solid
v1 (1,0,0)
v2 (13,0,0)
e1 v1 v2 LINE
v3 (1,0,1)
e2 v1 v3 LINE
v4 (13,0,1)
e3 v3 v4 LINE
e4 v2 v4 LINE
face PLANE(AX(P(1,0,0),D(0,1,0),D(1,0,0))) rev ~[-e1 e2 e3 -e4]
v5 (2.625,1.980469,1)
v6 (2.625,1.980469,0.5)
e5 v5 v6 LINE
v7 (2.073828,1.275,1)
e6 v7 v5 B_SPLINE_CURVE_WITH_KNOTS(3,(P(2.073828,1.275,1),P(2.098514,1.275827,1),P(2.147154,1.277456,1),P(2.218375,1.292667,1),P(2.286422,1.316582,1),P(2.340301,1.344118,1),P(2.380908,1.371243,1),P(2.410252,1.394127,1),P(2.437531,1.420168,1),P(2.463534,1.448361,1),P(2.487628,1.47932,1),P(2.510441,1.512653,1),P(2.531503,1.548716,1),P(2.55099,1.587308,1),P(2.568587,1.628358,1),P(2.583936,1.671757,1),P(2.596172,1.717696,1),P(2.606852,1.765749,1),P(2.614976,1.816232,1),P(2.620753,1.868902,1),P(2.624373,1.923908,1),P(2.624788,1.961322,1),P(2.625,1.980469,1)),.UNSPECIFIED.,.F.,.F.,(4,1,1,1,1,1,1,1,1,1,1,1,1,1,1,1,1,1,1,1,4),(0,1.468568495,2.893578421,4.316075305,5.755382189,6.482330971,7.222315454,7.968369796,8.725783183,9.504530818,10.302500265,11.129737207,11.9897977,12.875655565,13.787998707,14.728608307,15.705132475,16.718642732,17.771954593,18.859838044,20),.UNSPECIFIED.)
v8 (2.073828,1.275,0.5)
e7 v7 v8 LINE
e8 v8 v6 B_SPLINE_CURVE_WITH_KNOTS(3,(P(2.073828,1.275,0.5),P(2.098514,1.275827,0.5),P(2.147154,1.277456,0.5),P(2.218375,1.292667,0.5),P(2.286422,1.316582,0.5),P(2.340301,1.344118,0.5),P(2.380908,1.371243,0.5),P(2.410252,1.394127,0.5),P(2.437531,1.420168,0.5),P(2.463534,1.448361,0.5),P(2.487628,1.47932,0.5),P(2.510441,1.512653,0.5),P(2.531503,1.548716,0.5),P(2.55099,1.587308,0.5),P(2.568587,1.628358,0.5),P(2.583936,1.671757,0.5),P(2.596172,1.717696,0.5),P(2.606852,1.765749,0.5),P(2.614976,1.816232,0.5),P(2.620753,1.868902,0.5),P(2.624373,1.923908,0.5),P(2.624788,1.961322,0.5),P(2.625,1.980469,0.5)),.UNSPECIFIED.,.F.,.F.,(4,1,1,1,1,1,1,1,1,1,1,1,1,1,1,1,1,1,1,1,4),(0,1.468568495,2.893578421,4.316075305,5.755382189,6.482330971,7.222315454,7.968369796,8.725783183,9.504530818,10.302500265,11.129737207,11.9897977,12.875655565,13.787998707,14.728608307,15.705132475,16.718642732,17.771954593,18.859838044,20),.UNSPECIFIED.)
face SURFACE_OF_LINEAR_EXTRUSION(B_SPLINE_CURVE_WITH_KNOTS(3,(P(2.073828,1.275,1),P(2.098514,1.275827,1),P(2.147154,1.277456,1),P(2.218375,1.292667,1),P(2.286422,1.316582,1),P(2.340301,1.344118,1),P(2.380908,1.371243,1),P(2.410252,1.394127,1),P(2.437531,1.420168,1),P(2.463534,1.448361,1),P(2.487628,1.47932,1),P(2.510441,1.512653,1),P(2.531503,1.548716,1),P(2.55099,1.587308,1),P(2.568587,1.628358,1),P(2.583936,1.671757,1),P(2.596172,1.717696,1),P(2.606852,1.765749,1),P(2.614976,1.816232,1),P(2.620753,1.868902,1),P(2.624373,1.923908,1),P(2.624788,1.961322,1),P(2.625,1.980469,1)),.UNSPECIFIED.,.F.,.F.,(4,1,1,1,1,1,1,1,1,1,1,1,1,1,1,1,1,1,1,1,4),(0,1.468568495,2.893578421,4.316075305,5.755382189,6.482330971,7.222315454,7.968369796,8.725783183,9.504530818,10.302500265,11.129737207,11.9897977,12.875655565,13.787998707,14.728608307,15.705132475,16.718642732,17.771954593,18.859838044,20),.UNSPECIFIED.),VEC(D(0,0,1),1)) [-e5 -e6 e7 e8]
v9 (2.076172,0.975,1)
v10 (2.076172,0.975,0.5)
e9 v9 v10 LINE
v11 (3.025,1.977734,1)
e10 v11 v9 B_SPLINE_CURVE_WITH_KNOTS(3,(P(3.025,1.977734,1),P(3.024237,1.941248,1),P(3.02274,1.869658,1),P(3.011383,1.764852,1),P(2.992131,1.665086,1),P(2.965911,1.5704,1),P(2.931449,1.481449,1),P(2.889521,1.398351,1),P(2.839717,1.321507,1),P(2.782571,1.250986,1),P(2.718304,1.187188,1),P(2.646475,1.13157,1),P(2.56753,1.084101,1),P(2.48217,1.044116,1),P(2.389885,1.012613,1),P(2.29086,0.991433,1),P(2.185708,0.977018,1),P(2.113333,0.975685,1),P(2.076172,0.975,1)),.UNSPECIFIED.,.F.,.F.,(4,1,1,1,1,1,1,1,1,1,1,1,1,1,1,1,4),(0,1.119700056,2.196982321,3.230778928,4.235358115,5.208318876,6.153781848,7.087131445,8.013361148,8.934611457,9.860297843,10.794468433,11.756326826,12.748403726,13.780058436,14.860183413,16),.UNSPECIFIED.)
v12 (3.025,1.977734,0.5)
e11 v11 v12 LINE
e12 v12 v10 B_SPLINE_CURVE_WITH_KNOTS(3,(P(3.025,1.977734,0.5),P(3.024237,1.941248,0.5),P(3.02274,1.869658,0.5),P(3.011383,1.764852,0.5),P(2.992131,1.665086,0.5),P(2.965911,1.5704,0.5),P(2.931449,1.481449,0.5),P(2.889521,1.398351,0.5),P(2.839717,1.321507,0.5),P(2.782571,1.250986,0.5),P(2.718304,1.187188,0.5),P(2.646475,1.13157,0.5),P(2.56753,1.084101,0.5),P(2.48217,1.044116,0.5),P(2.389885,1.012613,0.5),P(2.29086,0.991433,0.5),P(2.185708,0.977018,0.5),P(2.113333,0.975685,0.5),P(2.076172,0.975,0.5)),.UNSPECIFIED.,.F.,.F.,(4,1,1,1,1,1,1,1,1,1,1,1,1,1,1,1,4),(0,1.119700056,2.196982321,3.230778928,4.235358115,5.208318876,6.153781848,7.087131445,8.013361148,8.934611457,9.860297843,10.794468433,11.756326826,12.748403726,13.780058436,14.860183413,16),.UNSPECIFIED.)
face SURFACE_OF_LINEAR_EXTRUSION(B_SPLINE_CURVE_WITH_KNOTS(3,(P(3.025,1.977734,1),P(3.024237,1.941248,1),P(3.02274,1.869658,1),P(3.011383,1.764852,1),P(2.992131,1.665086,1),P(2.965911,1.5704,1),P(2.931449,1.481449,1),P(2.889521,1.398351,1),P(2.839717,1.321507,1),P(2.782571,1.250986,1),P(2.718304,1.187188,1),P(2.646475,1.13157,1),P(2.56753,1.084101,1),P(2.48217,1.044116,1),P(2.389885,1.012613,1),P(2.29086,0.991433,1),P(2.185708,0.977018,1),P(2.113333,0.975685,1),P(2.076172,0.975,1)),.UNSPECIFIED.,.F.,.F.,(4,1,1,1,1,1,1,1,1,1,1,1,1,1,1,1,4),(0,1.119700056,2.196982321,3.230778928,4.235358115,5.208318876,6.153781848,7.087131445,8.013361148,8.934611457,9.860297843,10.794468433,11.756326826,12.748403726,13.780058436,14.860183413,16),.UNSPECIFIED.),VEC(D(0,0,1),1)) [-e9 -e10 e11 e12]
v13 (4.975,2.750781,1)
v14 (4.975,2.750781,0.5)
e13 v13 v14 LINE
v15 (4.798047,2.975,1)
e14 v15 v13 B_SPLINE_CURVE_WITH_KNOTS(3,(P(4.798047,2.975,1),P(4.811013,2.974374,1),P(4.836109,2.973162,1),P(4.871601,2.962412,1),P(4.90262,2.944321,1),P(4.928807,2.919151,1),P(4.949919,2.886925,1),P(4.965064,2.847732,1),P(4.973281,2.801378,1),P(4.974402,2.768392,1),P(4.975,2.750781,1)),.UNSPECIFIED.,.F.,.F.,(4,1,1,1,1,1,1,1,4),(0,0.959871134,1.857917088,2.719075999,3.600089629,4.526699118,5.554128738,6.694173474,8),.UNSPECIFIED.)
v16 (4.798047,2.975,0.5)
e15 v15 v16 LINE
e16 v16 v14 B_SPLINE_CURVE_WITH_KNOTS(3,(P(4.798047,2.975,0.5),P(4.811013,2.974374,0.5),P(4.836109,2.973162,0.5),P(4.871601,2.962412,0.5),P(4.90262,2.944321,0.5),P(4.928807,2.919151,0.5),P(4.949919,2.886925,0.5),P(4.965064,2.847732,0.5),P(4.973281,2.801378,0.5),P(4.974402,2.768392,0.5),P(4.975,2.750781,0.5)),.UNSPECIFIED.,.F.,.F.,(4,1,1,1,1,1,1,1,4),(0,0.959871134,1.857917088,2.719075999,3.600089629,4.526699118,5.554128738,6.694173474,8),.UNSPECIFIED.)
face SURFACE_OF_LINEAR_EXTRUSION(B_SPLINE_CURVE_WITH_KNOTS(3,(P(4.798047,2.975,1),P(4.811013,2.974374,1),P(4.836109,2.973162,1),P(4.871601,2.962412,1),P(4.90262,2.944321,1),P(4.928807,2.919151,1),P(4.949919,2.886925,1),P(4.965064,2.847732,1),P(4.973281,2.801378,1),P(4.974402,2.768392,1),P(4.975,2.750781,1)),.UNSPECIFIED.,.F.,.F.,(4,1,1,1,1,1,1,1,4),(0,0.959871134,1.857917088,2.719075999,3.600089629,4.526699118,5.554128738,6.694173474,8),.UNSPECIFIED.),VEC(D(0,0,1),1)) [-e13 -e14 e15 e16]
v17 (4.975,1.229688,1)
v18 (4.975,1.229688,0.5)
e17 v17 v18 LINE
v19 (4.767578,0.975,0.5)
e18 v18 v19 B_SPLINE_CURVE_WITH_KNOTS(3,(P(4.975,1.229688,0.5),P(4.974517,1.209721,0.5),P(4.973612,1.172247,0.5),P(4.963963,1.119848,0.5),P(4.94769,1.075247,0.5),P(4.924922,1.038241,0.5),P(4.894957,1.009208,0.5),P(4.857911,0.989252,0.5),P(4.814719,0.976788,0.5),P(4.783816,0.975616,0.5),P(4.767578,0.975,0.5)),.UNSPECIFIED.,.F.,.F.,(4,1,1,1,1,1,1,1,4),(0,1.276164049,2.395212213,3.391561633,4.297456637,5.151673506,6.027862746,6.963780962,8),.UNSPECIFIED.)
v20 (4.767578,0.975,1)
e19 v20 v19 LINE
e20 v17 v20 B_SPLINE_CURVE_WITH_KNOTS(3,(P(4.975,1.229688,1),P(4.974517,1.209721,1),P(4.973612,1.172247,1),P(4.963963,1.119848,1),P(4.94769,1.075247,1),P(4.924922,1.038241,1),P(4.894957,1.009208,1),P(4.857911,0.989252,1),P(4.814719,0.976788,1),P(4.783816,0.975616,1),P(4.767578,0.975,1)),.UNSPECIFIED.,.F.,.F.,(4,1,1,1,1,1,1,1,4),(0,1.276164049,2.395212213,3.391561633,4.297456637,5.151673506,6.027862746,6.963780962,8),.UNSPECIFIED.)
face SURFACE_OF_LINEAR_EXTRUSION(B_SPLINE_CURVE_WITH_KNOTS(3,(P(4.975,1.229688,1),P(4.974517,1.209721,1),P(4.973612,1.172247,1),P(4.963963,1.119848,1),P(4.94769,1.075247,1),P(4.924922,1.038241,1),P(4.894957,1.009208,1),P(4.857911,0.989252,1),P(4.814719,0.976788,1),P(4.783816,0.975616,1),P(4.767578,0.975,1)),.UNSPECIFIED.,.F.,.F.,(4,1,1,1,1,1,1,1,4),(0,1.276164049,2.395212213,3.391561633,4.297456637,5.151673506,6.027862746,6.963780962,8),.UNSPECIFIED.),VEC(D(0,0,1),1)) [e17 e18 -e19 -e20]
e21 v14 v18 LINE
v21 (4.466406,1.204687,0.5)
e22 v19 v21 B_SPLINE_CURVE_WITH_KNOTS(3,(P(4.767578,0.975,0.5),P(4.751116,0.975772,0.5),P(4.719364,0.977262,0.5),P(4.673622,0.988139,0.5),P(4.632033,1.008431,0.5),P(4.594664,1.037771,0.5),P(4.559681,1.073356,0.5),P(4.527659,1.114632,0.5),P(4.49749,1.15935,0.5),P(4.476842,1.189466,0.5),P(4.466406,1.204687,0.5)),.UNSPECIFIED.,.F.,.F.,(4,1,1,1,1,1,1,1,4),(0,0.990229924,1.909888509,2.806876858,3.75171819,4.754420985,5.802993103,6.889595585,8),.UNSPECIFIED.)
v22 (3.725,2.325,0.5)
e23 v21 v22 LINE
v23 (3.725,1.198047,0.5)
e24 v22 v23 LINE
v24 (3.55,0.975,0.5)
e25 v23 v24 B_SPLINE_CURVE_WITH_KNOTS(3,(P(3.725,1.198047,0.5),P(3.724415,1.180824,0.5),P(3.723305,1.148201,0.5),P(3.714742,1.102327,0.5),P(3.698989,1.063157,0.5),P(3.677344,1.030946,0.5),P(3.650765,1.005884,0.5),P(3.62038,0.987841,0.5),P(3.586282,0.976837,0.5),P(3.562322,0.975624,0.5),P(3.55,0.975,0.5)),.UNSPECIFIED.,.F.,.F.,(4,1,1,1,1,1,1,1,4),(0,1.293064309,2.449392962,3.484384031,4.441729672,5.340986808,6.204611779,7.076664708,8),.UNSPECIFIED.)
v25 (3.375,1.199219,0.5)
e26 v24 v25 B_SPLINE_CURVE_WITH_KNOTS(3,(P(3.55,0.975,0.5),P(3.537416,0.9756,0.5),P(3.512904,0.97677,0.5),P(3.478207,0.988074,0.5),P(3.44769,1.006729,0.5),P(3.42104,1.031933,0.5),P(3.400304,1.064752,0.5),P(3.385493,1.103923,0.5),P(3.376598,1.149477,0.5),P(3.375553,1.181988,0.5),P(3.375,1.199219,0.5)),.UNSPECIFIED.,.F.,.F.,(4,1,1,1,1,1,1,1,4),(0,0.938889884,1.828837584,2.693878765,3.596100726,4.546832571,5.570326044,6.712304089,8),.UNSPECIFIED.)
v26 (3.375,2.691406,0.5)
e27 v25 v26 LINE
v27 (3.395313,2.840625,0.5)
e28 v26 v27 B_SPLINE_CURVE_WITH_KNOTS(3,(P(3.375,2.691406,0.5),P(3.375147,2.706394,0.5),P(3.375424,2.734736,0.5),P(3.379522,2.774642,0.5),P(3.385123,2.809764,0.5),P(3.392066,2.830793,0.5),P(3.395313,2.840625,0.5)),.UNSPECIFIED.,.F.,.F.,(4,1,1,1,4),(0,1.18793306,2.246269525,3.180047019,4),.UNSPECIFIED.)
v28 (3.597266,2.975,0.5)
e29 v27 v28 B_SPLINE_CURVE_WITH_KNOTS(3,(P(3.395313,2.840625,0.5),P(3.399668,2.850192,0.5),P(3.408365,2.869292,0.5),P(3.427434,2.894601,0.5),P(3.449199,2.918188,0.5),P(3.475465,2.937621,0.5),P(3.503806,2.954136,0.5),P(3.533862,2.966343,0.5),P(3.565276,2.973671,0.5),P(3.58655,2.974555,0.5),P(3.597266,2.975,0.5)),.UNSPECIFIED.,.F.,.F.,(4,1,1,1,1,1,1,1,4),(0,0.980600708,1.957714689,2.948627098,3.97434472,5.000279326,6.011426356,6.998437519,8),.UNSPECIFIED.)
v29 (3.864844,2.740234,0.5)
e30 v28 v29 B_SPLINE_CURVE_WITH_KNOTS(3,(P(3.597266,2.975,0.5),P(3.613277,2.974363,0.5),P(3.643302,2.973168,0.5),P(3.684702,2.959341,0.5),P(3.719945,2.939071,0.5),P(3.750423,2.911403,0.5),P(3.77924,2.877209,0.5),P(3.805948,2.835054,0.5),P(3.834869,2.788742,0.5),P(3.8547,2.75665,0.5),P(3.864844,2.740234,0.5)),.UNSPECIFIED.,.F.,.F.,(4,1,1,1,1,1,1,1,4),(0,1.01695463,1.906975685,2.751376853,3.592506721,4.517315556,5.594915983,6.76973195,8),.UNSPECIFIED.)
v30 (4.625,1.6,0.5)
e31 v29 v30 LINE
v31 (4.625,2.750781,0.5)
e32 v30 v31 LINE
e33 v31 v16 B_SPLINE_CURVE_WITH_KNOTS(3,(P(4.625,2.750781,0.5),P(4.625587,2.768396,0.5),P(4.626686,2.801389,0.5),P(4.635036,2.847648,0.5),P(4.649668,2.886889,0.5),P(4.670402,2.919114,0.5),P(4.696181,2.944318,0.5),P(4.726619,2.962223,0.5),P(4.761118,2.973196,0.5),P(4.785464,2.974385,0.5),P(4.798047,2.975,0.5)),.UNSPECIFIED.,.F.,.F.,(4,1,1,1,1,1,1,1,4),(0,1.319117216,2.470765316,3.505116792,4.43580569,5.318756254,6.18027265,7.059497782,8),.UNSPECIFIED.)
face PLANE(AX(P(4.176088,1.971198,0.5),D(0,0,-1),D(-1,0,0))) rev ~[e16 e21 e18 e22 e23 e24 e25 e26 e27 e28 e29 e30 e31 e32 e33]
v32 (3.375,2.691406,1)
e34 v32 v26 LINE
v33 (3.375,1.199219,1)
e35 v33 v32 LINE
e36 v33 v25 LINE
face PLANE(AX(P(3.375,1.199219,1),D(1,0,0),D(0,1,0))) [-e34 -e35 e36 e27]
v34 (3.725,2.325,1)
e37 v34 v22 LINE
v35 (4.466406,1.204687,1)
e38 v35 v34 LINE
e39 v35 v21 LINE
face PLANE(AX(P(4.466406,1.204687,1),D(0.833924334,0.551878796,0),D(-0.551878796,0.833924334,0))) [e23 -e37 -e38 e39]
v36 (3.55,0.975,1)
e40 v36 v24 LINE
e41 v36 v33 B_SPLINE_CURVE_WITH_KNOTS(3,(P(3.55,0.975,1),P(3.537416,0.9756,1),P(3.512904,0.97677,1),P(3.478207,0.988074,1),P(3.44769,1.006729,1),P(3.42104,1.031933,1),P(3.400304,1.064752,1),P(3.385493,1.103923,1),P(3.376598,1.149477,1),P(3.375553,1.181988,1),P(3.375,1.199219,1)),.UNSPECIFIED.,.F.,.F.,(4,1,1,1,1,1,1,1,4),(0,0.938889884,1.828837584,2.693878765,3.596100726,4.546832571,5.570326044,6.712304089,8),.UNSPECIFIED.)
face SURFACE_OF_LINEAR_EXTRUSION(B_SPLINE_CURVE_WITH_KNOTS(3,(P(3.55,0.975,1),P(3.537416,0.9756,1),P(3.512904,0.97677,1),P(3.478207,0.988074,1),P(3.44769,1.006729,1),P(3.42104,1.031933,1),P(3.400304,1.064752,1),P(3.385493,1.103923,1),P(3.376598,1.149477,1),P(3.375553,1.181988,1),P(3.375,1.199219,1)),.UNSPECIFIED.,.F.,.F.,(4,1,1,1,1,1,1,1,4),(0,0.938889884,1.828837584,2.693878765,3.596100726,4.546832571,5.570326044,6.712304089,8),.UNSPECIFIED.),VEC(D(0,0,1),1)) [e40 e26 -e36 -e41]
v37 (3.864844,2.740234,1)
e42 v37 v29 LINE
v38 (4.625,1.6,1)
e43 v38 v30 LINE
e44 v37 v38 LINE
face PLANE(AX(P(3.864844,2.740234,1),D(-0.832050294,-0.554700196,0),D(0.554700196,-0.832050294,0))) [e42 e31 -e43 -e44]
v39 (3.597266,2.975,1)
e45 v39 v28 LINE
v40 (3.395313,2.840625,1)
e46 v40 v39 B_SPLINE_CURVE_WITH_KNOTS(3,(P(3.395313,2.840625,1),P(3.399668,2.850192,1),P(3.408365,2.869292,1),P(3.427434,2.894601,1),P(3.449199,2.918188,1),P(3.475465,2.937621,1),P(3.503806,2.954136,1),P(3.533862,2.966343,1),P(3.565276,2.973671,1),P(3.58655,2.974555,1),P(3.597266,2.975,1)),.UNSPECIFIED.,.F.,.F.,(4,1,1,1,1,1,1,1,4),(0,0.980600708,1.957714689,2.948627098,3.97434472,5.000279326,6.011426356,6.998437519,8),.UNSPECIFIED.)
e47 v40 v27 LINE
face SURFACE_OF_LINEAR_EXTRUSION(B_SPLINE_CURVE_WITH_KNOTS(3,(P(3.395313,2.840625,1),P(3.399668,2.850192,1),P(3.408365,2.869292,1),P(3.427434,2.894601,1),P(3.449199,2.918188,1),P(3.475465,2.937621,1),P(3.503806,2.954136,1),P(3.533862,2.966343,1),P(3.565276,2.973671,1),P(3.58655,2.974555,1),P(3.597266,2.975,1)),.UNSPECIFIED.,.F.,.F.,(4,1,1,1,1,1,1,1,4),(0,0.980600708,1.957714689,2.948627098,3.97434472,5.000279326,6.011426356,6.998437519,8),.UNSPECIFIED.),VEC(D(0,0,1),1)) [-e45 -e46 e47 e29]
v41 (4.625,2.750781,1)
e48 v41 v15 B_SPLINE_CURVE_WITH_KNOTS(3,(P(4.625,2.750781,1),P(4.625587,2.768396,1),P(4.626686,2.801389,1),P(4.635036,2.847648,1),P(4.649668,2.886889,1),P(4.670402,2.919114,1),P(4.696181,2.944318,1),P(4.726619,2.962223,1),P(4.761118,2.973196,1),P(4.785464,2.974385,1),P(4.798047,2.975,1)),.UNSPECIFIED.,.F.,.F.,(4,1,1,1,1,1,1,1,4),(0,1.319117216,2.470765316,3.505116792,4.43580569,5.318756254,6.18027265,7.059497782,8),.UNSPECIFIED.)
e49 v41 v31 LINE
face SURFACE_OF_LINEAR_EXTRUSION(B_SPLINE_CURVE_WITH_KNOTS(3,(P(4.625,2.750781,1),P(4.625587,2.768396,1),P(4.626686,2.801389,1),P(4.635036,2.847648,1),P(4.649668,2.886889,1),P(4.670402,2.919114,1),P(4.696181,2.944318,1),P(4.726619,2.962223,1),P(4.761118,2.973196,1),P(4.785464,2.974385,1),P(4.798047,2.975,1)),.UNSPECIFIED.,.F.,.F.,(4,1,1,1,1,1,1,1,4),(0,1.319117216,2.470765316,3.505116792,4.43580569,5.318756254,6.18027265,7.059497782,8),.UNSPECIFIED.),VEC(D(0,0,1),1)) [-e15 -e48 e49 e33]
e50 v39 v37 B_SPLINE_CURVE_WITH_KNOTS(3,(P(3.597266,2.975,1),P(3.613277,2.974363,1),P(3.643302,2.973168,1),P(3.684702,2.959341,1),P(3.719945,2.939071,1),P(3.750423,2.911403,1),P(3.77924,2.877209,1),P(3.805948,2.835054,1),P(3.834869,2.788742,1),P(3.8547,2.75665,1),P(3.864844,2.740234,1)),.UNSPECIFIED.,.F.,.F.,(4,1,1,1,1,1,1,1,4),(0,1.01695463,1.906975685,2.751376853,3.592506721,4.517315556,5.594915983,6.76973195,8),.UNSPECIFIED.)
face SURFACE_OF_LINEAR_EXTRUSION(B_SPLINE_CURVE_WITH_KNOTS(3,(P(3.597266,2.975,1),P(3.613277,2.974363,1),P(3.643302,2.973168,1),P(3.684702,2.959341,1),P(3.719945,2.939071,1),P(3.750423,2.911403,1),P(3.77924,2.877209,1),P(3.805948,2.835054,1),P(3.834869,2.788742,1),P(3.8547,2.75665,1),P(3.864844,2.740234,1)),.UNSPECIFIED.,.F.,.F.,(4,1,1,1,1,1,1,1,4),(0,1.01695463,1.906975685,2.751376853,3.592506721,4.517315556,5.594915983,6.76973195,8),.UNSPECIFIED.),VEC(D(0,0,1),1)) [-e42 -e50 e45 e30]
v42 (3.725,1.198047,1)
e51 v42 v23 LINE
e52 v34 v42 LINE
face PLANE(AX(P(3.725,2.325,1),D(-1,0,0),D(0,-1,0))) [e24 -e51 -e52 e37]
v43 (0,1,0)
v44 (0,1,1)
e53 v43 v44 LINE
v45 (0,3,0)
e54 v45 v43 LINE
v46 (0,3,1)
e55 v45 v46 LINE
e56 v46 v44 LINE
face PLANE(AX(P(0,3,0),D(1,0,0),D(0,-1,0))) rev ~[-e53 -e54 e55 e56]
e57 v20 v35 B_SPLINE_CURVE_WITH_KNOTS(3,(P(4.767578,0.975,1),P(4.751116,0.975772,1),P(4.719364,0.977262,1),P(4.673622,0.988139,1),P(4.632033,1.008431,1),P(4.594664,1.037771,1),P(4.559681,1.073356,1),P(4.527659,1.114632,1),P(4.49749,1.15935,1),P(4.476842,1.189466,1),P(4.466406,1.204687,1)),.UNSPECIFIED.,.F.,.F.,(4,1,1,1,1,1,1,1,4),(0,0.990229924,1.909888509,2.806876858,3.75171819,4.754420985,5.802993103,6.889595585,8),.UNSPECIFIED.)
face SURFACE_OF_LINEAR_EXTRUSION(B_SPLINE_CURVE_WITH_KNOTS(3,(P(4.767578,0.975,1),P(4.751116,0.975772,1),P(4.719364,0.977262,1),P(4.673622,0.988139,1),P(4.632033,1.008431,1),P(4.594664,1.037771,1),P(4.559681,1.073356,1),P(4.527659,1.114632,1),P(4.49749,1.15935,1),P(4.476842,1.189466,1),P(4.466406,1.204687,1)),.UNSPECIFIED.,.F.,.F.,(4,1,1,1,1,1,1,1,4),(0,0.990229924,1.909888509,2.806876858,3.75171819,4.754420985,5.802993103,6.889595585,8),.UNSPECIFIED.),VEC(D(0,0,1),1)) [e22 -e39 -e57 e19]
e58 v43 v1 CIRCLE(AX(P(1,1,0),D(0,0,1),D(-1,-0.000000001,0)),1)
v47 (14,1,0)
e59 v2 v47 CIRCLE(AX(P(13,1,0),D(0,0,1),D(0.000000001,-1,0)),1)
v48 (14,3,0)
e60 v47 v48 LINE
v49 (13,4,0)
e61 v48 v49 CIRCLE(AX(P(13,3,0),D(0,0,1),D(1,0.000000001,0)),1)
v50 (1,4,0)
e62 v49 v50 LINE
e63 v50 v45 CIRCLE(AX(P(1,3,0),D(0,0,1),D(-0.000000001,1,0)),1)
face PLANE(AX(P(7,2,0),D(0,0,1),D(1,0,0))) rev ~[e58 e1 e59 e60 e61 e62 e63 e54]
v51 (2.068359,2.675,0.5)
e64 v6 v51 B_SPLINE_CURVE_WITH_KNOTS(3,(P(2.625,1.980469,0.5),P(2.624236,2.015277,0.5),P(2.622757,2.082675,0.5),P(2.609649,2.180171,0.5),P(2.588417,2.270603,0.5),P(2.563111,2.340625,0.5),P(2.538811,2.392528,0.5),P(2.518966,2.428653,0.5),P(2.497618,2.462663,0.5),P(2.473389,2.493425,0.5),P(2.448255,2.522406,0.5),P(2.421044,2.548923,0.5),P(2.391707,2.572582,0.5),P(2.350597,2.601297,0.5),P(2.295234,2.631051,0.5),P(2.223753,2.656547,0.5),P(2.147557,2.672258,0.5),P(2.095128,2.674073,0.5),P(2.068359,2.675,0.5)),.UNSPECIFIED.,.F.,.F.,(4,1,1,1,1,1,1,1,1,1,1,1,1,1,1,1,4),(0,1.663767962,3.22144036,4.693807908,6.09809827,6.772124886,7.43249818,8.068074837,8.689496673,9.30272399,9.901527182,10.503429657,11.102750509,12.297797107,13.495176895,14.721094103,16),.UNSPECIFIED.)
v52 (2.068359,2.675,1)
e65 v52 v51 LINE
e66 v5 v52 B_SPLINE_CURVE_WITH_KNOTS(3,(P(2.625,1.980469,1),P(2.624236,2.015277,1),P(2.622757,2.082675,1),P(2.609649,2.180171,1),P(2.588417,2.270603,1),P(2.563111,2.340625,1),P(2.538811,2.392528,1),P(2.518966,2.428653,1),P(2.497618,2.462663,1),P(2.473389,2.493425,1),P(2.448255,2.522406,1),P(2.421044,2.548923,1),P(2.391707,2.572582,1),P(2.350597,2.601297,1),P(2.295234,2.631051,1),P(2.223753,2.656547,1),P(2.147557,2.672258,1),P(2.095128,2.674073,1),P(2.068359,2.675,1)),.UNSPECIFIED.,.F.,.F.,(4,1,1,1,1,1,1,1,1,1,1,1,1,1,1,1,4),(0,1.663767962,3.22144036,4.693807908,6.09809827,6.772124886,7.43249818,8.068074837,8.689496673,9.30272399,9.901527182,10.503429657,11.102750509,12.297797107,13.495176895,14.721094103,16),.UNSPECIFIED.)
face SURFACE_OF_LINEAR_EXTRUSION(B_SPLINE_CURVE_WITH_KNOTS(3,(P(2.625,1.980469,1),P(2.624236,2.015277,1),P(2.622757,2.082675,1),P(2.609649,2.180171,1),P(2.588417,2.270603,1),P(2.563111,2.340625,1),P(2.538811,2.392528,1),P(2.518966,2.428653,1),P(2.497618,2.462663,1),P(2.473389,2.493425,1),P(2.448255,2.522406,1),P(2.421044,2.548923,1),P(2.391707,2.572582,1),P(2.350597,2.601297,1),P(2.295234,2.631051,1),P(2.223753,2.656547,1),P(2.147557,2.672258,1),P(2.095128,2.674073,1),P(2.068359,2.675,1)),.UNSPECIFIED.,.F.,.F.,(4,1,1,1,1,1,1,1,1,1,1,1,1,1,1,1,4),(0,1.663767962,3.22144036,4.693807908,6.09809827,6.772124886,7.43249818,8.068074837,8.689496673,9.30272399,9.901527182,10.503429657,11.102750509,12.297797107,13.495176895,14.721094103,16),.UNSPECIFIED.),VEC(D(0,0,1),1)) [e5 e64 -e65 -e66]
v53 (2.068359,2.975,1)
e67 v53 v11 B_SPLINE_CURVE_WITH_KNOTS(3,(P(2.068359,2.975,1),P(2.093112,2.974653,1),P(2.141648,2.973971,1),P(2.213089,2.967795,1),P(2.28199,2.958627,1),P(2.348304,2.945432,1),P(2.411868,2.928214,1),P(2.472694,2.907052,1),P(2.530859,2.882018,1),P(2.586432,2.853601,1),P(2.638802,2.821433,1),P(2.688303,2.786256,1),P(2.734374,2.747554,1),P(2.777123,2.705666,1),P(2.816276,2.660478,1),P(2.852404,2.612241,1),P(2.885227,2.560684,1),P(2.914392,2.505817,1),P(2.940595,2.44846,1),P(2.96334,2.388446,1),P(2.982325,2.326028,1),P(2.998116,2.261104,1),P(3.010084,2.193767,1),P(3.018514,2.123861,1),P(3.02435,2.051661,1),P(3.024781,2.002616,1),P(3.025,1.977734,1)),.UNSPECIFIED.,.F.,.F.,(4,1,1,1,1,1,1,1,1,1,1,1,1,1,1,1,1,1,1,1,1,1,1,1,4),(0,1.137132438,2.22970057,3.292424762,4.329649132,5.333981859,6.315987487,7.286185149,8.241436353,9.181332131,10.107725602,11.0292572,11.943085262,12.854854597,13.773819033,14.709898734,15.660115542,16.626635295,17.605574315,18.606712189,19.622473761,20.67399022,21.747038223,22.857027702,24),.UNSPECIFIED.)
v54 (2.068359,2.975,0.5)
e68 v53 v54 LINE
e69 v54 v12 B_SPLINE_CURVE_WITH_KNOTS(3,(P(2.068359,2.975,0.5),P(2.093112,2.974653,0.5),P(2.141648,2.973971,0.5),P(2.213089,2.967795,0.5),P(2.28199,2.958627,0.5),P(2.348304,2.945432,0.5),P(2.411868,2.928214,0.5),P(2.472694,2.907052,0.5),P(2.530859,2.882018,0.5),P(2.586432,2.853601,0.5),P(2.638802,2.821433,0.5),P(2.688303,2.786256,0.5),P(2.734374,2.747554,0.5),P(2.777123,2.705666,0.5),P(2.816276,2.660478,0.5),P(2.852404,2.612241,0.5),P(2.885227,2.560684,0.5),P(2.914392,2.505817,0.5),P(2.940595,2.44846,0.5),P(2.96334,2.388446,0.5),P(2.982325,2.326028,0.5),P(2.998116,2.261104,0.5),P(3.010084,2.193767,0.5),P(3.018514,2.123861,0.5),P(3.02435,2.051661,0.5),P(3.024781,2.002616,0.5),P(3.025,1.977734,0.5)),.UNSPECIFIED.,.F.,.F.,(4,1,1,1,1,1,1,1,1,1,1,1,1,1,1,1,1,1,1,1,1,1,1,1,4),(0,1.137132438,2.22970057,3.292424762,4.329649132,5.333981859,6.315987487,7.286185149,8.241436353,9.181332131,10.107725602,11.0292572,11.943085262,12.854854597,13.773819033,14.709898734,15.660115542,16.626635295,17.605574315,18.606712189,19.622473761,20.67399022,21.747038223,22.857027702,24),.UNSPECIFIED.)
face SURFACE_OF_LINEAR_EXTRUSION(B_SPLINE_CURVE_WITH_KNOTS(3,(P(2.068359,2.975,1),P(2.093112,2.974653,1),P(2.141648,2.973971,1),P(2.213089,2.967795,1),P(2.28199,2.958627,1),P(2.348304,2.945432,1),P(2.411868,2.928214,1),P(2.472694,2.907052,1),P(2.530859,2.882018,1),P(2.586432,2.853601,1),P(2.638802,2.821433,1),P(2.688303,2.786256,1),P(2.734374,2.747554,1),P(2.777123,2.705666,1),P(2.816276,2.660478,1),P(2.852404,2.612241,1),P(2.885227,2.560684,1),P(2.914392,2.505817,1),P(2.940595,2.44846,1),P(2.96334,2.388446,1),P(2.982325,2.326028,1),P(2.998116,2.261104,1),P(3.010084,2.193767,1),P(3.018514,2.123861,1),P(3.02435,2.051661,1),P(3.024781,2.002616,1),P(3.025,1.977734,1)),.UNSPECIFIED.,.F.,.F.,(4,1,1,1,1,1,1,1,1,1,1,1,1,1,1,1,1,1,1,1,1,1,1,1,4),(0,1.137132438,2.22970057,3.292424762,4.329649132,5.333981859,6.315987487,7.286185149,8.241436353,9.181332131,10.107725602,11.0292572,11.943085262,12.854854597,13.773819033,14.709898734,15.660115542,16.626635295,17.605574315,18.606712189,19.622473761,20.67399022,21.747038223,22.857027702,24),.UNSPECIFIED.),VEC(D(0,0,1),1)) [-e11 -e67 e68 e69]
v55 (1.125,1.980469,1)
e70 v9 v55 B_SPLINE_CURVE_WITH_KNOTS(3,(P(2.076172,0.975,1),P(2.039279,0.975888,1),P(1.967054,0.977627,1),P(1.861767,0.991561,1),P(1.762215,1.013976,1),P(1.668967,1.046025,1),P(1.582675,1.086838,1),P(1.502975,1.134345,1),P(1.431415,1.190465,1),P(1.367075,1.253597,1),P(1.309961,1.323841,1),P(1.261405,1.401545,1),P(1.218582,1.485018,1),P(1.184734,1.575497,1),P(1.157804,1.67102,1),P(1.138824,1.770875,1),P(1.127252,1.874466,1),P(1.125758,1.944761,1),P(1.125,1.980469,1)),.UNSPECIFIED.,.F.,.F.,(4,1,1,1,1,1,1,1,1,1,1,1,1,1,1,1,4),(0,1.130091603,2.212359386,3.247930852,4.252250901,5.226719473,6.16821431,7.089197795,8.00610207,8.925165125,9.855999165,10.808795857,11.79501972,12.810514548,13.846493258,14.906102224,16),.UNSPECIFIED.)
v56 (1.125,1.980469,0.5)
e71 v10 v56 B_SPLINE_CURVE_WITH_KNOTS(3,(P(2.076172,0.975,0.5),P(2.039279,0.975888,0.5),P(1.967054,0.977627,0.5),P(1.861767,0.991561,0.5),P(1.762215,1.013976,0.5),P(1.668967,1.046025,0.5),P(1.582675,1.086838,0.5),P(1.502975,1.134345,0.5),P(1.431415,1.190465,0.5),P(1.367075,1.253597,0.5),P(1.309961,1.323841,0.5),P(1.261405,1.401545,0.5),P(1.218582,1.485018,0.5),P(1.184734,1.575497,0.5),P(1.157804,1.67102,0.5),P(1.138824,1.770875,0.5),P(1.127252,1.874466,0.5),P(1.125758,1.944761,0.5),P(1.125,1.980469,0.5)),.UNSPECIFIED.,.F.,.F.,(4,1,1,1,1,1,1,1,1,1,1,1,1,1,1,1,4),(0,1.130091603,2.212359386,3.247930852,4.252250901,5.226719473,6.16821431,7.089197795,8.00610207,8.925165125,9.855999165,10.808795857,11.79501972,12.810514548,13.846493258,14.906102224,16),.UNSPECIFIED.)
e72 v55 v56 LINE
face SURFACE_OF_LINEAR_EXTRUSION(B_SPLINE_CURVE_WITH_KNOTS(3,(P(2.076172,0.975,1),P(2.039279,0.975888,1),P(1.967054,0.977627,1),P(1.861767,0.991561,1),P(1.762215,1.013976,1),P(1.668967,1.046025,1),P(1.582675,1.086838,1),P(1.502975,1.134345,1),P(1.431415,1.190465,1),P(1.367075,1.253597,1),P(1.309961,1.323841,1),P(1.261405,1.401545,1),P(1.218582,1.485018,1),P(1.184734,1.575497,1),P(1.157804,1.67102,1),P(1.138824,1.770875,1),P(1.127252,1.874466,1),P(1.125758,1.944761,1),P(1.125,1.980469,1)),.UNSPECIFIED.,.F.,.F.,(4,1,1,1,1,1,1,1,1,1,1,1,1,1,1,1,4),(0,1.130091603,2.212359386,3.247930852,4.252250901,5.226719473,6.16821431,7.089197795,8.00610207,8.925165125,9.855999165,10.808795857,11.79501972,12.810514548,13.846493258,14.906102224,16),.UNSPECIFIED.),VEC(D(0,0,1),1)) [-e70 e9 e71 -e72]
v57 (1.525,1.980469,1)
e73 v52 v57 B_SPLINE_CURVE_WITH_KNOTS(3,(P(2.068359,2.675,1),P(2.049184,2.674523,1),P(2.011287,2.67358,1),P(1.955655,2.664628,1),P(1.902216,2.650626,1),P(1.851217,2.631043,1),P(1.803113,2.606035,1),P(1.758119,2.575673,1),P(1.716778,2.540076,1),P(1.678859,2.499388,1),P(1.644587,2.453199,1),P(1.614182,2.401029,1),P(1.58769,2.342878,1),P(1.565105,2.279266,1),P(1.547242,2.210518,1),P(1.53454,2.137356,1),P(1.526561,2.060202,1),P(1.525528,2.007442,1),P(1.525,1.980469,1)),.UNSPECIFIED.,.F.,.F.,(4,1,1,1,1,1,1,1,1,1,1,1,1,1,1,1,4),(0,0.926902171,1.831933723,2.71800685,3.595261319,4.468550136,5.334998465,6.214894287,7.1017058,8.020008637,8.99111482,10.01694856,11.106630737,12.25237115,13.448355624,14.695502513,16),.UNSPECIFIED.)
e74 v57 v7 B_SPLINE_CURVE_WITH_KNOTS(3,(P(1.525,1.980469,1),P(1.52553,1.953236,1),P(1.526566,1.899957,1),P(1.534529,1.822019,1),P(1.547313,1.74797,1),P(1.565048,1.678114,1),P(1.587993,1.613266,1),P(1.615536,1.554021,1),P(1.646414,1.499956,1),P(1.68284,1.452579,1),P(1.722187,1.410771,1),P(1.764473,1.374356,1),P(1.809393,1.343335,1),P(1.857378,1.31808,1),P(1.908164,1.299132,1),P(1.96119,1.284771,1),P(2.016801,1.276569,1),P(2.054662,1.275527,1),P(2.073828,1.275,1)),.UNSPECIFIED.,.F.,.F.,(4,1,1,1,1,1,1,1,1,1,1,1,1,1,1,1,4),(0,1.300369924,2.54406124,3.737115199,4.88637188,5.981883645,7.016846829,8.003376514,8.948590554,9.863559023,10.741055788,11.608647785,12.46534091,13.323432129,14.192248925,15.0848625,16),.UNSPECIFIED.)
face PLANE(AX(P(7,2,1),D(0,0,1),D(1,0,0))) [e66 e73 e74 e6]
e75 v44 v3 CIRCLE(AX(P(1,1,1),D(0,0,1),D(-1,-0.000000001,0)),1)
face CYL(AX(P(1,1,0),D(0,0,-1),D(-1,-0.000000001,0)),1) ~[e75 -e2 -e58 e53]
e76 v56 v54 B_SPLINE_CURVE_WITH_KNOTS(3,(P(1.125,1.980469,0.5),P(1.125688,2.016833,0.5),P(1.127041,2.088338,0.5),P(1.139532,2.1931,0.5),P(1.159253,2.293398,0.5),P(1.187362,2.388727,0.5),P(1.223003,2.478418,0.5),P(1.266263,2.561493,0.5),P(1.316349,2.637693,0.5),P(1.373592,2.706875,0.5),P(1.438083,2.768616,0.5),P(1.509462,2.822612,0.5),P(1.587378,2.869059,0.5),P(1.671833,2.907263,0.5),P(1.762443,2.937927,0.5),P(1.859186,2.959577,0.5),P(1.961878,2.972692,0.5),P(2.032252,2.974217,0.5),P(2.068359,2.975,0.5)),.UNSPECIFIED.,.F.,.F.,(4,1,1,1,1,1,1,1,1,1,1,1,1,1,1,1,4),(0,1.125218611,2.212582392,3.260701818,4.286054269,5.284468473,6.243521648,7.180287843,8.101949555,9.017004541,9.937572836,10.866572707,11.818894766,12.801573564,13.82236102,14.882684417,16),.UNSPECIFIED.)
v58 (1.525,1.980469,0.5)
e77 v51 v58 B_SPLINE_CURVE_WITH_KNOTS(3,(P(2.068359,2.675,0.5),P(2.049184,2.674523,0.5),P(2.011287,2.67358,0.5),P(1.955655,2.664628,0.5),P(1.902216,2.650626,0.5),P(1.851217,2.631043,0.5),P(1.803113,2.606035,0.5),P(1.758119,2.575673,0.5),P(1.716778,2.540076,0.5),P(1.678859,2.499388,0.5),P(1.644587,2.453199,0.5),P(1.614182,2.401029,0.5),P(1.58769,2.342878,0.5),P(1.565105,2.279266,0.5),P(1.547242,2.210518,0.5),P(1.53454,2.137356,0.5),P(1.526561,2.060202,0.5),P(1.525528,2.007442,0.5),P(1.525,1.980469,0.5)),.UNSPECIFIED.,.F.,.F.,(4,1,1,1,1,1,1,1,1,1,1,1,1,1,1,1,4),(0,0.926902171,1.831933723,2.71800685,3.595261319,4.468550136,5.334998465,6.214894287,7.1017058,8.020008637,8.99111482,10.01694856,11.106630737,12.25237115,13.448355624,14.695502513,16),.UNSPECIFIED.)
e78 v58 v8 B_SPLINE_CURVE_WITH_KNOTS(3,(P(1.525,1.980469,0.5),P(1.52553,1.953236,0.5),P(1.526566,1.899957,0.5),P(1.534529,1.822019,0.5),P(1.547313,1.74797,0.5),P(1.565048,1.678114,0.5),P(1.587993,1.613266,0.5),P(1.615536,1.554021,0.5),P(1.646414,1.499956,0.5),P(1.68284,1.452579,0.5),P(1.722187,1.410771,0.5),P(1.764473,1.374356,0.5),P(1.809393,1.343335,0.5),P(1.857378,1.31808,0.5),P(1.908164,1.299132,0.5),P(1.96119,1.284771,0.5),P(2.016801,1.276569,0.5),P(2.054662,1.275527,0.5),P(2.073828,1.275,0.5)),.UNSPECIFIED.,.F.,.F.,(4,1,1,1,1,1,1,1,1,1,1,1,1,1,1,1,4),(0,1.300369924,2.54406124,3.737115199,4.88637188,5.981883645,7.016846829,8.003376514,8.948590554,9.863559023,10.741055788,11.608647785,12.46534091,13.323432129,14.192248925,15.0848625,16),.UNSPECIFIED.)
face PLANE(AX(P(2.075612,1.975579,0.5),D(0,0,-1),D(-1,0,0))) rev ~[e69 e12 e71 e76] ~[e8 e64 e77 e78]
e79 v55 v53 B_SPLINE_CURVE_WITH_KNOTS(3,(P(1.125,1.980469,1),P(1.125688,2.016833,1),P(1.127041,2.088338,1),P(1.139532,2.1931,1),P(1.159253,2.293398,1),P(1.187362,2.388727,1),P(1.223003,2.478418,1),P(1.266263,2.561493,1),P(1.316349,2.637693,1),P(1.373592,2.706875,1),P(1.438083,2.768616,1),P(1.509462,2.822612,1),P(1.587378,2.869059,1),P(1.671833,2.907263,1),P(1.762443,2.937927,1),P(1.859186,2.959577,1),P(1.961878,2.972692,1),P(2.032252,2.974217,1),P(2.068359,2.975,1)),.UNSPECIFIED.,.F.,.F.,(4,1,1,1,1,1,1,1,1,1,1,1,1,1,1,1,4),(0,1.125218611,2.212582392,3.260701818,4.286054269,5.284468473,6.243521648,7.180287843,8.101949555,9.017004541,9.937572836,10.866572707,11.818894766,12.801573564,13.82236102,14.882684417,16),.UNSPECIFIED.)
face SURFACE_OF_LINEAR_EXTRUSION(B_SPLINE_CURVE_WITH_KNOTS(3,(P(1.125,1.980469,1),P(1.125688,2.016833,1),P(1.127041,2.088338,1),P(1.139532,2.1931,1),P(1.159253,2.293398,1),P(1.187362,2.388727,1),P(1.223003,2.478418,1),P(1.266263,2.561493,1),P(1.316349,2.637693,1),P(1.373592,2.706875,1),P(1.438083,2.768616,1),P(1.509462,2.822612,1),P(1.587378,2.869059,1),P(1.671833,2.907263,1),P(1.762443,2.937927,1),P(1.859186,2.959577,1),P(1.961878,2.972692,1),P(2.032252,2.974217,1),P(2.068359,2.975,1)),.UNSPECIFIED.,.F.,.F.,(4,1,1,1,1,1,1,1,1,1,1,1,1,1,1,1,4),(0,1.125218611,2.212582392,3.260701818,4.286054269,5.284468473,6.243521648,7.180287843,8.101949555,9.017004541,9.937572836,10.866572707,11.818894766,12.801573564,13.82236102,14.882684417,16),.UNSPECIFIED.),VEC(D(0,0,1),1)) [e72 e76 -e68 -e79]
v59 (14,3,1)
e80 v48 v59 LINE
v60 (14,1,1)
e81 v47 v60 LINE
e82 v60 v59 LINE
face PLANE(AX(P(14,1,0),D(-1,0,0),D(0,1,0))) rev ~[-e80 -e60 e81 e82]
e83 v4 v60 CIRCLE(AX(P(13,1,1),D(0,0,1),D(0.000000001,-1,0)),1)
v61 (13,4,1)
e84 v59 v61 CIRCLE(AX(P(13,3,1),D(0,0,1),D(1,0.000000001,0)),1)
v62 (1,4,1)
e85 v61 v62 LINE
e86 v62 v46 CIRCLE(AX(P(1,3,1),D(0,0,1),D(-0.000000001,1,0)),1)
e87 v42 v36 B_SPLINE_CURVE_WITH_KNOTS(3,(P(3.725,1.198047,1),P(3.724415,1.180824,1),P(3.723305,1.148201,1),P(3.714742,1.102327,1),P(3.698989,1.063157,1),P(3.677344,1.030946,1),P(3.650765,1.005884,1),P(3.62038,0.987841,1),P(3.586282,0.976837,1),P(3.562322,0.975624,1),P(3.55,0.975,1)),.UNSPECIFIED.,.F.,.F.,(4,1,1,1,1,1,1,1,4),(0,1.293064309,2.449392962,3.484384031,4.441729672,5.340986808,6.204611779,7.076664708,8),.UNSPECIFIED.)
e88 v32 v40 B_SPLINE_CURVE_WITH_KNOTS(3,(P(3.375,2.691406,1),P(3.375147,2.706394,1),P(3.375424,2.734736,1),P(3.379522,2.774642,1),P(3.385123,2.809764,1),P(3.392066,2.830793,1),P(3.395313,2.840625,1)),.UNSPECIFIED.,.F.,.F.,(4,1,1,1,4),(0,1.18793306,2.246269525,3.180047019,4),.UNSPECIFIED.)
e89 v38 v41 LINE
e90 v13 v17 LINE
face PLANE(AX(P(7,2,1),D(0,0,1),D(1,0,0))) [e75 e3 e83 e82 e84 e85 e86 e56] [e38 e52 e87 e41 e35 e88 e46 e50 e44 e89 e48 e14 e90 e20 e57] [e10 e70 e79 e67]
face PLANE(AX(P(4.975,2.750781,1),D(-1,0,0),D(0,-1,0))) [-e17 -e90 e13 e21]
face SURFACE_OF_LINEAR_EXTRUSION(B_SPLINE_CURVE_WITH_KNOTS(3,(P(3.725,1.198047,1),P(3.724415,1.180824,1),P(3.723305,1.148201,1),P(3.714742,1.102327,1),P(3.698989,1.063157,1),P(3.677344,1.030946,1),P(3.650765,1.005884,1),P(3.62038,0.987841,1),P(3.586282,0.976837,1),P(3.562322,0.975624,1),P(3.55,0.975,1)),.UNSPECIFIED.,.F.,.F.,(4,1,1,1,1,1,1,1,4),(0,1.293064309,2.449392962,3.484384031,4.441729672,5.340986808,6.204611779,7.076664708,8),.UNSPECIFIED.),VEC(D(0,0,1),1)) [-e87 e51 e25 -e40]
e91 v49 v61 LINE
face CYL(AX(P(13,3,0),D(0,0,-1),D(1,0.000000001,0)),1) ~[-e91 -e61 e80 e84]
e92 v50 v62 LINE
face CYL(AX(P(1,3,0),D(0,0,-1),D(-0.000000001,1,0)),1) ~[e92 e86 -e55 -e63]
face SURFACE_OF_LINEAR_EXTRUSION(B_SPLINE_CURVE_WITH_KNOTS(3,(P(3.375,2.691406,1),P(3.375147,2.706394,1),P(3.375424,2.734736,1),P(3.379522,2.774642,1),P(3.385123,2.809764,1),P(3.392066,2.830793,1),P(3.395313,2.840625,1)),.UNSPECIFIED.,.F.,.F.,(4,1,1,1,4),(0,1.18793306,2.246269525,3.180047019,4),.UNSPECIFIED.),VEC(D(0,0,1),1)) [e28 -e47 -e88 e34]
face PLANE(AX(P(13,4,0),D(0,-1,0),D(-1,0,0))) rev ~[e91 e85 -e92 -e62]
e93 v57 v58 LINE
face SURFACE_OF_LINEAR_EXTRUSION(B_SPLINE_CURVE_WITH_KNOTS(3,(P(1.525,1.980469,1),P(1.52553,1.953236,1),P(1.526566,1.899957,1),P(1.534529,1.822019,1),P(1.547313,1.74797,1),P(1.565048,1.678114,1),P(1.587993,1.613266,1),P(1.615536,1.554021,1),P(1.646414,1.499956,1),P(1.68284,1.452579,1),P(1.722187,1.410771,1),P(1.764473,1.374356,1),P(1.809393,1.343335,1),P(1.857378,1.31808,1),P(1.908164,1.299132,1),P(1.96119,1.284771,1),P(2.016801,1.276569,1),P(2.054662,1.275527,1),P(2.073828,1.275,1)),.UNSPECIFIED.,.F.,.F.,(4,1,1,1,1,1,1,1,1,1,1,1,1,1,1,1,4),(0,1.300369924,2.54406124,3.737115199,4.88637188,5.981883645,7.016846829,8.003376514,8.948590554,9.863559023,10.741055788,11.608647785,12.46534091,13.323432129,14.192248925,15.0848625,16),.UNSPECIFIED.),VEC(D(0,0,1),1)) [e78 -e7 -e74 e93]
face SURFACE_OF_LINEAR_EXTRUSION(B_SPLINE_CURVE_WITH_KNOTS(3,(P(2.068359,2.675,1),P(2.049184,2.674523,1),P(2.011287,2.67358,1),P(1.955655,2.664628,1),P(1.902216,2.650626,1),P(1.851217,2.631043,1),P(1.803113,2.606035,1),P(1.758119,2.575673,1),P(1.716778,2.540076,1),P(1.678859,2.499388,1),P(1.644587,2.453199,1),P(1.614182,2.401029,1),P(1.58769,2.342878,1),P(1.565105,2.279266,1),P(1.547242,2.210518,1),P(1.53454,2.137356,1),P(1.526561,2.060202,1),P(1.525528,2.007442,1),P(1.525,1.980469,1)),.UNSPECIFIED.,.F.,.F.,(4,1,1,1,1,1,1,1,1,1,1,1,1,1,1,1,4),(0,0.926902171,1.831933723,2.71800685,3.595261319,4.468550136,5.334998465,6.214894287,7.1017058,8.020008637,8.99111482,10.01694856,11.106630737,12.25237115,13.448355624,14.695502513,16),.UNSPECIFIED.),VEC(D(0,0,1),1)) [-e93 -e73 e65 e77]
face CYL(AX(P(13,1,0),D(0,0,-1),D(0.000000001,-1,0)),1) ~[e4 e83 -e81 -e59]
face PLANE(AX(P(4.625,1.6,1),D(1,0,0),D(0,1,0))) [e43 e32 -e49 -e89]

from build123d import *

# Parameters (mm, degrees)
AUFSATZ_LINEAR_AUSTRAGEN1_DEPTH = 1
SCHNITT_LINEAR_AUSTRAGEN1_DEPTH = 0.5


with BuildPart() as part:
    # Skizze1 → Aufsatz-Linear austragen1 (new body)
    with BuildSketch(Plane.XY):
        with BuildLine():
            Line((1, 0), (13, 0))
            ThreePointArc((13, 0), (13.707106781, 0.292893219), (14, 1))
            Line((14, 1), (14, 3))
            ThreePointArc((14, 3), (13.707106781, 3.707106781), (13, 4))
            Line((13, 4), (1, 4))
            ThreePointArc((1, 4), (0.292893219, 3.707106781), (0, 3))
            Line((0, 3), (0, 1))
            ThreePointArc((0, 1), (0.292893219, 0.292893219), (1, 0))
        make_face()
    extrude(amount=AUFSATZ_LINEAR_AUSTRAGEN1_DEPTH)

    # Skizze2 → Schnitt-Linear austragen1 (cut)
    # profile 1 of 2: a face of its own
    with BuildSketch(Plane.XY.offset(1)):
        with BuildLine():
            add(Edge.make_bspline(
                [(2.068359375, 2.975), (2.093112394, 2.974652516), (2.14164836, 2.973971167), (2.213088792, 2.96779492), (2.281989676, 2.95862748), (2.348304365, 2.945431971), (2.411868349, 2.928213747), (2.472693733, 2.90705225), (2.530858895, 2.882017573), (2.586431863, 2.853600887), (2.638802164, 2.821433292), (2.688303235, 2.786256364), (2.73437439, 2.747554036), (2.77712302, 2.705666037), (2.816276383, 2.660478074), (2.852403686, 2.612241049), (2.885226635, 2.56068362), (2.914391718, 2.505816744), (2.940594574, 2.44846024), (2.963340406, 2.388446006), (2.982324979, 2.326028293), (2.998116048, 2.26110371), (3.010084082, 2.193767278), (3.018514176, 2.123861297), (3.024350356, 2.051661497), (3.024781349, 2.002616087), (3.025, 1.977734375)],
                knots=[0, 0, 0, 0, 1.137132438, 2.22970057, 3.292424762, 4.329649132, 5.333981859, 6.315987487, 7.286185149, 8.241436353, 9.181332131, 10.107725602, 11.0292572, 11.943085262, 12.854854597, 13.773819033, 14.709898734, 15.660115542, 16.626635295, 17.605574315, 18.606712189, 19.622473761, 20.67399022, 21.747038223, 22.857027702, 24, 24, 24, 24], degree=3))
            add(Edge.make_bspline(
                [(3.025, 1.977734375), (3.024236943, 1.941248344), (3.022739737, 1.869658489), (3.011382941, 1.76485224), (2.992130943, 1.66508578), (2.965911152, 1.570399581), (2.931448688, 1.481449161), (2.889521373, 1.398351336), (2.839716722, 1.321507209), (2.782571307, 1.250986245), (2.718303636, 1.18718792), (2.646474639, 1.13157047), (2.567529745, 1.084100864), (2.48217021, 1.044116269), (2.38988477, 1.012613038), (2.290860282, 0.991433257), (2.185708374, 0.977018048), (2.11333274, 0.975684634), (2.076171875, 0.975)],
                knots=[0, 0, 0, 0, 1.119700056, 2.196982321, 3.230778928, 4.235358115, 5.208318876, 6.153781848, 7.087131445, 8.013361148, 8.934611457, 9.860297843, 10.794468433, 11.756326826, 12.748403726, 13.780058436, 14.860183413, 16, 16, 16, 16], degree=3))
            add(Edge.make_bspline(
                [(2.076171875, 0.975), (2.03927875, 0.975888232), (1.967053764, 0.977627108), (1.861766869, 0.991561146), (1.762215291, 1.013976035), (1.668967416, 1.04602514), (1.582674595, 1.08683826), (1.502975001, 1.134344554), (1.431414901, 1.190464862), (1.367075118, 1.253597267), (1.309960779, 1.323841341), (1.261404629, 1.401545242), (1.218582067, 1.485017774), (1.184733705, 1.575497068), (1.157803717, 1.671020204), (1.13882396, 1.770875151), (1.127251689, 1.874465923), (1.125758488, 1.944761386), (1.125, 1.98046875)],
                knots=[0, 0, 0, 0, 1.130091603, 2.212359386, 3.247930852, 4.252250901, 5.226719473, 6.16821431, 7.089197795, 8.00610207, 8.925165125, 9.855999165, 10.808795857, 11.79501972, 12.810514548, 13.846493258, 14.906102224, 16, 16, 16, 16], degree=3))
            add(Edge.make_bspline(
                [(1.125, 1.98046875), (1.125688028, 2.016832883), (1.127040936, 2.088337779), (1.139531744, 2.193099625), (1.15925301, 2.293397724), (1.187362441, 2.388727145), (1.223002781, 2.478418194), (1.266262664, 2.561492737), (1.316348518, 2.637693274), (1.373591781, 2.70687478), (1.438083357, 2.768616063), (1.509462446, 2.82261175), (1.587377693, 2.86905948), (1.671832678, 2.907263474), (1.762443164, 2.937927219), (1.859185583, 2.959576748), (1.961878055, 2.97269235), (2.032251673, 2.974217478), (2.068359375, 2.975)],
                knots=[0, 0, 0, 0, 1.125218611, 2.212582392, 3.260701818, 4.286054269, 5.284468473, 6.243521648, 7.180287843, 8.101949555, 9.017004541, 9.937572836, 10.866572707, 11.818894766, 12.801573564, 13.82236102, 14.882684417, 16, 16, 16, 16], degree=3))
        make_face()
        with BuildLine():
            add(Edge.make_bspline(
                [(2.625, 1.98046875), (2.624236115, 2.015277472), (2.622757058, 2.082675226), (2.609648511, 2.180171038), (2.588416712, 2.27060321), (2.563111057, 2.340625009), (2.538811369, 2.392528468), (2.51896586, 2.42865343), (2.497617935, 2.462663361), (2.473388511, 2.493425176), (2.448255174, 2.522406317), (2.421043849, 2.54892338), (2.391707134, 2.572581535), (2.350596581, 2.601296683), (2.295234429, 2.631050621), (2.223753123, 2.656546627), (2.147556711, 2.672258276), (2.09512819, 2.674073293), (2.068359375, 2.675)],
                knots=[0, 0, 0, 0, 1.663767962, 3.22144036, 4.693807908, 6.09809827, 6.772124886, 7.43249818, 8.068074837, 8.689496673, 9.30272399, 9.901527182, 10.503429657, 11.102750509, 12.297797107, 13.495176895, 14.721094103, 16, 16, 16, 16], degree=3))
            add(Edge.make_bspline(
                [(2.068359375, 2.675), (2.04918449, 2.674523021), (2.011287158, 2.673580316), (1.955655243, 2.664627547), (1.902215528, 2.650626376), (1.851216647, 2.631043473), (1.803112784, 2.606035103), (1.758119138, 2.575673263), (1.716778265, 2.540076152), (1.678858763, 2.499387916), (1.64458724, 2.453198562), (1.614182017, 2.401028966), (1.587690016, 2.342878426), (1.565104568, 2.279265806), (1.547241689, 2.210518214), (1.534540277, 2.137356433), (1.526561269, 2.060201883), (1.525528163, 2.007441739), (1.525, 1.98046875)],
                knots=[0, 0, 0, 0, 0.926902171, 1.831933723, 2.71800685, 3.595261319, 4.468550136, 5.334998465, 6.214894287, 7.1017058, 8.020008637, 8.99111482, 10.01694856, 11.106630737, 12.25237115, 13.448355624, 14.695502513, 16, 16, 16, 16], degree=3))
            add(Edge.make_bspline(
                [(1.525, 1.98046875), (1.525529621, 1.953235833), (1.526565779, 1.899956987), (1.534528502, 1.822019496), (1.547312827, 1.74796955), (1.565048146, 1.678113625), (1.58799262, 1.613266121), (1.615536195, 1.554021234), (1.646413772, 1.499956378), (1.682840272, 1.452579062), (1.722186978, 1.410770889), (1.76447307, 1.374356244), (1.809393417, 1.343334803), (1.857378179, 1.318080366), (1.908164293, 1.299131658), (1.961190349, 1.284770984), (2.016800589, 1.276568573), (2.054661701, 1.275527183), (2.073828125, 1.275)],
                knots=[0, 0, 0, 0, 1.300369924, 2.54406124, 3.737115199, 4.88637188, 5.981883645, 7.016846829, 8.003376514, 8.948590554, 9.863559023, 10.741055788, 11.608647785, 12.46534091, 13.323432129, 14.192248925, 15.0848625, 16, 16, 16, 16], degree=3))
            add(Edge.make_bspline(
                [(2.073828125, 1.275), (2.098514049, 1.275826804), (2.147153697, 1.277455889), (2.218375005, 1.292666561), (2.286422084, 1.316581814), (2.340300617, 1.34411813), (2.380907534, 1.371243102), (2.410251531, 1.394127245), (2.437531132, 1.420168305), (2.463533565, 1.448361043), (2.487628227, 1.479320201), (2.510440944, 1.51265316), (2.531503359, 1.54871627), (2.550989754, 1.587307904), (2.568587312, 1.628357856), (2.583936454, 1.67175711), (2.596172475, 1.717696454), (2.606851743, 1.765749251), (2.614975974, 1.816231574), (2.620753103, 1.868901619), (2.624372846, 1.923907557), (2.624787704, 1.961322387), (2.625, 1.98046875)],
                knots=[0, 0, 0, 0, 1.468568495, 2.893578421, 4.316075305, 5.755382189, 6.482330971, 7.222315454, 7.968369796, 8.725783183, 9.504530818, 10.302500265, 11.129737207, 11.9897977, 12.875655565, 13.787998707, 14.728608307, 15.705132475, 16.718642732, 17.771954593, 18.859838044, 20, 20, 20, 20], degree=3))
        make_face(mode=Mode.SUBTRACT)
    # profile 2 of 2: a face of its own
    with BuildSketch(Plane.XY.offset(1)):
        with BuildLine():
            Line((3.86484375, 2.740234375), (4.625, 1.6))
            Line((4.625, 1.6), (4.625, 2.75078125))
            add(Edge.make_bspline(
                [(4.625, 2.75078125), (4.625586836, 2.768395927), (4.626686005, 2.801389002), (4.635036402, 2.847648409), (4.649668068, 2.886889392), (4.670402191, 2.919114128), (4.696180986, 2.944318069), (4.726619023, 2.962223197), (4.761117632, 2.973196011), (4.785463851, 2.974385321), (4.798046875, 2.975)],
                knots=[0, 0, 0, 0, 1.319117216, 2.470765316, 3.505116792, 4.43580569, 5.318756254, 6.18027265, 7.059497782, 8, 8, 8, 8], degree=3))
            add(Edge.make_bspline(
                [(4.798046875, 2.975), (4.811012753, 2.974373778), (4.836109378, 2.97316167), (4.871600638, 2.962412213), (4.902620124, 2.944321241), (4.928806854, 2.919151114), (4.949918941, 2.886925272), (4.965064382, 2.847732261), (4.973280664, 2.80137765), (4.974401563, 2.768391976), (4.975, 2.75078125)],
                knots=[0, 0, 0, 0, 0.959871134, 1.857917088, 2.719075999, 3.600089629, 4.526699118, 5.554128738, 6.694173474, 8, 8, 8, 8], degree=3))
            Line((4.975, 2.75078125), (4.975, 1.2296875))
            add(Edge.make_bspline(
                [(4.975, 1.2296875), (4.974517449, 1.209721265), (4.973611757, 1.172246954), (4.963962629, 1.119848054), (4.947690056, 1.075246898), (4.924922255, 1.038240953), (4.894956518, 1.009207633), (4.857911429, 0.989251615), (4.814719484, 0.976787702), (4.783815821, 0.975615768), (4.767578125, 0.975)],
                knots=[0, 0, 0, 0, 1.276164049, 2.395212213, 3.391561633, 4.297456637, 5.151673506, 6.027862746, 6.963780962, 8, 8, 8, 8], degree=3))
            add(Edge.make_bspline(
                [(4.767578125, 0.975), (4.751115635, 0.975772416), (4.719363897, 0.977262199), (4.673622221, 0.988138948), (4.632032835, 1.008430687), (4.594663962, 1.037771284), (4.55968076, 1.073356467), (4.527659202, 1.11463191), (4.497490318, 1.159350157), (4.476842172, 1.189466295), (4.46640625, 1.2046875)],
                knots=[0, 0, 0, 0, 0.990229924, 1.909888509, 2.806876858, 3.75171819, 4.754420985, 5.802993103, 6.889595585, 8, 8, 8, 8], degree=3))
            Line((4.46640625, 1.2046875), (3.725, 2.325))
            Line((3.725, 2.325), (3.725, 1.198046875))
            add(Edge.make_bspline(
                [(3.725, 1.198046875), (3.724414523, 1.180824483), (3.72330548, 1.148200888), (3.714742096, 1.102326501), (3.698988566, 1.0631574), (3.677344387, 1.0309462), (3.650765302, 1.005883739), (3.620379665, 0.987840533), (3.586282235, 0.976836674), (3.562322205, 0.975623773), (3.55, 0.975)],
                knots=[0, 0, 0, 0, 1.293064309, 2.449392962, 3.484384031, 4.441729672, 5.340986808, 6.204611779, 7.076664708, 8, 8, 8, 8], degree=3))
            add(Edge.make_bspline(
                [(3.55, 0.975), (3.537415957, 0.975600427), (3.512903847, 0.976769981), (3.478206619, 0.988073985), (3.447689985, 1.006729195), (3.421040174, 1.031933145), (3.400304093, 1.064751921), (3.385493226, 1.103922858), (3.376597599, 1.149477245), (3.375553408, 1.181988306), (3.375, 1.19921875)],
                knots=[0, 0, 0, 0, 0.938889884, 1.828837584, 2.693878765, 3.596100726, 4.546832571, 5.570326044, 6.712304089, 8, 8, 8, 8], degree=3))
            Line((3.375, 1.19921875), (3.375, 2.69140625))
            add(Edge.make_bspline(
                [(3.375, 2.69140625), (3.37514655, 2.706394453), (3.375423663, 2.734735734), (3.379522399, 2.774642207), (3.385123318, 2.80976372), (3.392066316, 2.830792867), (3.3953125, 2.840625)],
                knots=[0, 0, 0, 0, 1.18793306, 2.246269525, 3.180047019, 4, 4, 4, 4], degree=3))
            add(Edge.make_bspline(
                [(3.3953125, 2.840625), (3.399668454, 2.850192085), (3.408364875, 2.869292239), (3.427434086, 2.894600683), (3.449198834, 2.91818821), (3.475465064, 2.937620764), (3.503805632, 2.954136488), (3.533862342, 2.966343001), (3.565275925, 2.973670728), (3.5865505, 2.974554753), (3.597265625, 2.975)],
                knots=[0, 0, 0, 0, 0.980600708, 1.957714689, 2.948627098, 3.97434472, 5.000279326, 6.011426356, 6.998437519, 8, 8, 8, 8], degree=3))
            add(Edge.make_bspline(
                [(3.597265625, 2.975), (3.613277137, 2.974362991), (3.643301645, 2.973168483), (3.684701728, 2.959340883), (3.719945443, 2.939070857), (3.750422654, 2.911403027), (3.779239652, 2.877209196), (3.805947743, 2.835053519), (3.834869484, 2.788741916), (3.854699923, 2.756650193), (3.86484375, 2.740234375)],
                knots=[0, 0, 0, 0, 1.01695463, 1.906975685, 2.751376853, 3.592506721, 4.517315556, 5.594915983, 6.76973195, 8, 8, 8, 8], degree=3))
        make_face()
    extrude(amount=-SCHNITT_LINEAR_AUSTRAGEN1_DEPTH, mode=Mode.SUBTRACT)


solid = part.part
